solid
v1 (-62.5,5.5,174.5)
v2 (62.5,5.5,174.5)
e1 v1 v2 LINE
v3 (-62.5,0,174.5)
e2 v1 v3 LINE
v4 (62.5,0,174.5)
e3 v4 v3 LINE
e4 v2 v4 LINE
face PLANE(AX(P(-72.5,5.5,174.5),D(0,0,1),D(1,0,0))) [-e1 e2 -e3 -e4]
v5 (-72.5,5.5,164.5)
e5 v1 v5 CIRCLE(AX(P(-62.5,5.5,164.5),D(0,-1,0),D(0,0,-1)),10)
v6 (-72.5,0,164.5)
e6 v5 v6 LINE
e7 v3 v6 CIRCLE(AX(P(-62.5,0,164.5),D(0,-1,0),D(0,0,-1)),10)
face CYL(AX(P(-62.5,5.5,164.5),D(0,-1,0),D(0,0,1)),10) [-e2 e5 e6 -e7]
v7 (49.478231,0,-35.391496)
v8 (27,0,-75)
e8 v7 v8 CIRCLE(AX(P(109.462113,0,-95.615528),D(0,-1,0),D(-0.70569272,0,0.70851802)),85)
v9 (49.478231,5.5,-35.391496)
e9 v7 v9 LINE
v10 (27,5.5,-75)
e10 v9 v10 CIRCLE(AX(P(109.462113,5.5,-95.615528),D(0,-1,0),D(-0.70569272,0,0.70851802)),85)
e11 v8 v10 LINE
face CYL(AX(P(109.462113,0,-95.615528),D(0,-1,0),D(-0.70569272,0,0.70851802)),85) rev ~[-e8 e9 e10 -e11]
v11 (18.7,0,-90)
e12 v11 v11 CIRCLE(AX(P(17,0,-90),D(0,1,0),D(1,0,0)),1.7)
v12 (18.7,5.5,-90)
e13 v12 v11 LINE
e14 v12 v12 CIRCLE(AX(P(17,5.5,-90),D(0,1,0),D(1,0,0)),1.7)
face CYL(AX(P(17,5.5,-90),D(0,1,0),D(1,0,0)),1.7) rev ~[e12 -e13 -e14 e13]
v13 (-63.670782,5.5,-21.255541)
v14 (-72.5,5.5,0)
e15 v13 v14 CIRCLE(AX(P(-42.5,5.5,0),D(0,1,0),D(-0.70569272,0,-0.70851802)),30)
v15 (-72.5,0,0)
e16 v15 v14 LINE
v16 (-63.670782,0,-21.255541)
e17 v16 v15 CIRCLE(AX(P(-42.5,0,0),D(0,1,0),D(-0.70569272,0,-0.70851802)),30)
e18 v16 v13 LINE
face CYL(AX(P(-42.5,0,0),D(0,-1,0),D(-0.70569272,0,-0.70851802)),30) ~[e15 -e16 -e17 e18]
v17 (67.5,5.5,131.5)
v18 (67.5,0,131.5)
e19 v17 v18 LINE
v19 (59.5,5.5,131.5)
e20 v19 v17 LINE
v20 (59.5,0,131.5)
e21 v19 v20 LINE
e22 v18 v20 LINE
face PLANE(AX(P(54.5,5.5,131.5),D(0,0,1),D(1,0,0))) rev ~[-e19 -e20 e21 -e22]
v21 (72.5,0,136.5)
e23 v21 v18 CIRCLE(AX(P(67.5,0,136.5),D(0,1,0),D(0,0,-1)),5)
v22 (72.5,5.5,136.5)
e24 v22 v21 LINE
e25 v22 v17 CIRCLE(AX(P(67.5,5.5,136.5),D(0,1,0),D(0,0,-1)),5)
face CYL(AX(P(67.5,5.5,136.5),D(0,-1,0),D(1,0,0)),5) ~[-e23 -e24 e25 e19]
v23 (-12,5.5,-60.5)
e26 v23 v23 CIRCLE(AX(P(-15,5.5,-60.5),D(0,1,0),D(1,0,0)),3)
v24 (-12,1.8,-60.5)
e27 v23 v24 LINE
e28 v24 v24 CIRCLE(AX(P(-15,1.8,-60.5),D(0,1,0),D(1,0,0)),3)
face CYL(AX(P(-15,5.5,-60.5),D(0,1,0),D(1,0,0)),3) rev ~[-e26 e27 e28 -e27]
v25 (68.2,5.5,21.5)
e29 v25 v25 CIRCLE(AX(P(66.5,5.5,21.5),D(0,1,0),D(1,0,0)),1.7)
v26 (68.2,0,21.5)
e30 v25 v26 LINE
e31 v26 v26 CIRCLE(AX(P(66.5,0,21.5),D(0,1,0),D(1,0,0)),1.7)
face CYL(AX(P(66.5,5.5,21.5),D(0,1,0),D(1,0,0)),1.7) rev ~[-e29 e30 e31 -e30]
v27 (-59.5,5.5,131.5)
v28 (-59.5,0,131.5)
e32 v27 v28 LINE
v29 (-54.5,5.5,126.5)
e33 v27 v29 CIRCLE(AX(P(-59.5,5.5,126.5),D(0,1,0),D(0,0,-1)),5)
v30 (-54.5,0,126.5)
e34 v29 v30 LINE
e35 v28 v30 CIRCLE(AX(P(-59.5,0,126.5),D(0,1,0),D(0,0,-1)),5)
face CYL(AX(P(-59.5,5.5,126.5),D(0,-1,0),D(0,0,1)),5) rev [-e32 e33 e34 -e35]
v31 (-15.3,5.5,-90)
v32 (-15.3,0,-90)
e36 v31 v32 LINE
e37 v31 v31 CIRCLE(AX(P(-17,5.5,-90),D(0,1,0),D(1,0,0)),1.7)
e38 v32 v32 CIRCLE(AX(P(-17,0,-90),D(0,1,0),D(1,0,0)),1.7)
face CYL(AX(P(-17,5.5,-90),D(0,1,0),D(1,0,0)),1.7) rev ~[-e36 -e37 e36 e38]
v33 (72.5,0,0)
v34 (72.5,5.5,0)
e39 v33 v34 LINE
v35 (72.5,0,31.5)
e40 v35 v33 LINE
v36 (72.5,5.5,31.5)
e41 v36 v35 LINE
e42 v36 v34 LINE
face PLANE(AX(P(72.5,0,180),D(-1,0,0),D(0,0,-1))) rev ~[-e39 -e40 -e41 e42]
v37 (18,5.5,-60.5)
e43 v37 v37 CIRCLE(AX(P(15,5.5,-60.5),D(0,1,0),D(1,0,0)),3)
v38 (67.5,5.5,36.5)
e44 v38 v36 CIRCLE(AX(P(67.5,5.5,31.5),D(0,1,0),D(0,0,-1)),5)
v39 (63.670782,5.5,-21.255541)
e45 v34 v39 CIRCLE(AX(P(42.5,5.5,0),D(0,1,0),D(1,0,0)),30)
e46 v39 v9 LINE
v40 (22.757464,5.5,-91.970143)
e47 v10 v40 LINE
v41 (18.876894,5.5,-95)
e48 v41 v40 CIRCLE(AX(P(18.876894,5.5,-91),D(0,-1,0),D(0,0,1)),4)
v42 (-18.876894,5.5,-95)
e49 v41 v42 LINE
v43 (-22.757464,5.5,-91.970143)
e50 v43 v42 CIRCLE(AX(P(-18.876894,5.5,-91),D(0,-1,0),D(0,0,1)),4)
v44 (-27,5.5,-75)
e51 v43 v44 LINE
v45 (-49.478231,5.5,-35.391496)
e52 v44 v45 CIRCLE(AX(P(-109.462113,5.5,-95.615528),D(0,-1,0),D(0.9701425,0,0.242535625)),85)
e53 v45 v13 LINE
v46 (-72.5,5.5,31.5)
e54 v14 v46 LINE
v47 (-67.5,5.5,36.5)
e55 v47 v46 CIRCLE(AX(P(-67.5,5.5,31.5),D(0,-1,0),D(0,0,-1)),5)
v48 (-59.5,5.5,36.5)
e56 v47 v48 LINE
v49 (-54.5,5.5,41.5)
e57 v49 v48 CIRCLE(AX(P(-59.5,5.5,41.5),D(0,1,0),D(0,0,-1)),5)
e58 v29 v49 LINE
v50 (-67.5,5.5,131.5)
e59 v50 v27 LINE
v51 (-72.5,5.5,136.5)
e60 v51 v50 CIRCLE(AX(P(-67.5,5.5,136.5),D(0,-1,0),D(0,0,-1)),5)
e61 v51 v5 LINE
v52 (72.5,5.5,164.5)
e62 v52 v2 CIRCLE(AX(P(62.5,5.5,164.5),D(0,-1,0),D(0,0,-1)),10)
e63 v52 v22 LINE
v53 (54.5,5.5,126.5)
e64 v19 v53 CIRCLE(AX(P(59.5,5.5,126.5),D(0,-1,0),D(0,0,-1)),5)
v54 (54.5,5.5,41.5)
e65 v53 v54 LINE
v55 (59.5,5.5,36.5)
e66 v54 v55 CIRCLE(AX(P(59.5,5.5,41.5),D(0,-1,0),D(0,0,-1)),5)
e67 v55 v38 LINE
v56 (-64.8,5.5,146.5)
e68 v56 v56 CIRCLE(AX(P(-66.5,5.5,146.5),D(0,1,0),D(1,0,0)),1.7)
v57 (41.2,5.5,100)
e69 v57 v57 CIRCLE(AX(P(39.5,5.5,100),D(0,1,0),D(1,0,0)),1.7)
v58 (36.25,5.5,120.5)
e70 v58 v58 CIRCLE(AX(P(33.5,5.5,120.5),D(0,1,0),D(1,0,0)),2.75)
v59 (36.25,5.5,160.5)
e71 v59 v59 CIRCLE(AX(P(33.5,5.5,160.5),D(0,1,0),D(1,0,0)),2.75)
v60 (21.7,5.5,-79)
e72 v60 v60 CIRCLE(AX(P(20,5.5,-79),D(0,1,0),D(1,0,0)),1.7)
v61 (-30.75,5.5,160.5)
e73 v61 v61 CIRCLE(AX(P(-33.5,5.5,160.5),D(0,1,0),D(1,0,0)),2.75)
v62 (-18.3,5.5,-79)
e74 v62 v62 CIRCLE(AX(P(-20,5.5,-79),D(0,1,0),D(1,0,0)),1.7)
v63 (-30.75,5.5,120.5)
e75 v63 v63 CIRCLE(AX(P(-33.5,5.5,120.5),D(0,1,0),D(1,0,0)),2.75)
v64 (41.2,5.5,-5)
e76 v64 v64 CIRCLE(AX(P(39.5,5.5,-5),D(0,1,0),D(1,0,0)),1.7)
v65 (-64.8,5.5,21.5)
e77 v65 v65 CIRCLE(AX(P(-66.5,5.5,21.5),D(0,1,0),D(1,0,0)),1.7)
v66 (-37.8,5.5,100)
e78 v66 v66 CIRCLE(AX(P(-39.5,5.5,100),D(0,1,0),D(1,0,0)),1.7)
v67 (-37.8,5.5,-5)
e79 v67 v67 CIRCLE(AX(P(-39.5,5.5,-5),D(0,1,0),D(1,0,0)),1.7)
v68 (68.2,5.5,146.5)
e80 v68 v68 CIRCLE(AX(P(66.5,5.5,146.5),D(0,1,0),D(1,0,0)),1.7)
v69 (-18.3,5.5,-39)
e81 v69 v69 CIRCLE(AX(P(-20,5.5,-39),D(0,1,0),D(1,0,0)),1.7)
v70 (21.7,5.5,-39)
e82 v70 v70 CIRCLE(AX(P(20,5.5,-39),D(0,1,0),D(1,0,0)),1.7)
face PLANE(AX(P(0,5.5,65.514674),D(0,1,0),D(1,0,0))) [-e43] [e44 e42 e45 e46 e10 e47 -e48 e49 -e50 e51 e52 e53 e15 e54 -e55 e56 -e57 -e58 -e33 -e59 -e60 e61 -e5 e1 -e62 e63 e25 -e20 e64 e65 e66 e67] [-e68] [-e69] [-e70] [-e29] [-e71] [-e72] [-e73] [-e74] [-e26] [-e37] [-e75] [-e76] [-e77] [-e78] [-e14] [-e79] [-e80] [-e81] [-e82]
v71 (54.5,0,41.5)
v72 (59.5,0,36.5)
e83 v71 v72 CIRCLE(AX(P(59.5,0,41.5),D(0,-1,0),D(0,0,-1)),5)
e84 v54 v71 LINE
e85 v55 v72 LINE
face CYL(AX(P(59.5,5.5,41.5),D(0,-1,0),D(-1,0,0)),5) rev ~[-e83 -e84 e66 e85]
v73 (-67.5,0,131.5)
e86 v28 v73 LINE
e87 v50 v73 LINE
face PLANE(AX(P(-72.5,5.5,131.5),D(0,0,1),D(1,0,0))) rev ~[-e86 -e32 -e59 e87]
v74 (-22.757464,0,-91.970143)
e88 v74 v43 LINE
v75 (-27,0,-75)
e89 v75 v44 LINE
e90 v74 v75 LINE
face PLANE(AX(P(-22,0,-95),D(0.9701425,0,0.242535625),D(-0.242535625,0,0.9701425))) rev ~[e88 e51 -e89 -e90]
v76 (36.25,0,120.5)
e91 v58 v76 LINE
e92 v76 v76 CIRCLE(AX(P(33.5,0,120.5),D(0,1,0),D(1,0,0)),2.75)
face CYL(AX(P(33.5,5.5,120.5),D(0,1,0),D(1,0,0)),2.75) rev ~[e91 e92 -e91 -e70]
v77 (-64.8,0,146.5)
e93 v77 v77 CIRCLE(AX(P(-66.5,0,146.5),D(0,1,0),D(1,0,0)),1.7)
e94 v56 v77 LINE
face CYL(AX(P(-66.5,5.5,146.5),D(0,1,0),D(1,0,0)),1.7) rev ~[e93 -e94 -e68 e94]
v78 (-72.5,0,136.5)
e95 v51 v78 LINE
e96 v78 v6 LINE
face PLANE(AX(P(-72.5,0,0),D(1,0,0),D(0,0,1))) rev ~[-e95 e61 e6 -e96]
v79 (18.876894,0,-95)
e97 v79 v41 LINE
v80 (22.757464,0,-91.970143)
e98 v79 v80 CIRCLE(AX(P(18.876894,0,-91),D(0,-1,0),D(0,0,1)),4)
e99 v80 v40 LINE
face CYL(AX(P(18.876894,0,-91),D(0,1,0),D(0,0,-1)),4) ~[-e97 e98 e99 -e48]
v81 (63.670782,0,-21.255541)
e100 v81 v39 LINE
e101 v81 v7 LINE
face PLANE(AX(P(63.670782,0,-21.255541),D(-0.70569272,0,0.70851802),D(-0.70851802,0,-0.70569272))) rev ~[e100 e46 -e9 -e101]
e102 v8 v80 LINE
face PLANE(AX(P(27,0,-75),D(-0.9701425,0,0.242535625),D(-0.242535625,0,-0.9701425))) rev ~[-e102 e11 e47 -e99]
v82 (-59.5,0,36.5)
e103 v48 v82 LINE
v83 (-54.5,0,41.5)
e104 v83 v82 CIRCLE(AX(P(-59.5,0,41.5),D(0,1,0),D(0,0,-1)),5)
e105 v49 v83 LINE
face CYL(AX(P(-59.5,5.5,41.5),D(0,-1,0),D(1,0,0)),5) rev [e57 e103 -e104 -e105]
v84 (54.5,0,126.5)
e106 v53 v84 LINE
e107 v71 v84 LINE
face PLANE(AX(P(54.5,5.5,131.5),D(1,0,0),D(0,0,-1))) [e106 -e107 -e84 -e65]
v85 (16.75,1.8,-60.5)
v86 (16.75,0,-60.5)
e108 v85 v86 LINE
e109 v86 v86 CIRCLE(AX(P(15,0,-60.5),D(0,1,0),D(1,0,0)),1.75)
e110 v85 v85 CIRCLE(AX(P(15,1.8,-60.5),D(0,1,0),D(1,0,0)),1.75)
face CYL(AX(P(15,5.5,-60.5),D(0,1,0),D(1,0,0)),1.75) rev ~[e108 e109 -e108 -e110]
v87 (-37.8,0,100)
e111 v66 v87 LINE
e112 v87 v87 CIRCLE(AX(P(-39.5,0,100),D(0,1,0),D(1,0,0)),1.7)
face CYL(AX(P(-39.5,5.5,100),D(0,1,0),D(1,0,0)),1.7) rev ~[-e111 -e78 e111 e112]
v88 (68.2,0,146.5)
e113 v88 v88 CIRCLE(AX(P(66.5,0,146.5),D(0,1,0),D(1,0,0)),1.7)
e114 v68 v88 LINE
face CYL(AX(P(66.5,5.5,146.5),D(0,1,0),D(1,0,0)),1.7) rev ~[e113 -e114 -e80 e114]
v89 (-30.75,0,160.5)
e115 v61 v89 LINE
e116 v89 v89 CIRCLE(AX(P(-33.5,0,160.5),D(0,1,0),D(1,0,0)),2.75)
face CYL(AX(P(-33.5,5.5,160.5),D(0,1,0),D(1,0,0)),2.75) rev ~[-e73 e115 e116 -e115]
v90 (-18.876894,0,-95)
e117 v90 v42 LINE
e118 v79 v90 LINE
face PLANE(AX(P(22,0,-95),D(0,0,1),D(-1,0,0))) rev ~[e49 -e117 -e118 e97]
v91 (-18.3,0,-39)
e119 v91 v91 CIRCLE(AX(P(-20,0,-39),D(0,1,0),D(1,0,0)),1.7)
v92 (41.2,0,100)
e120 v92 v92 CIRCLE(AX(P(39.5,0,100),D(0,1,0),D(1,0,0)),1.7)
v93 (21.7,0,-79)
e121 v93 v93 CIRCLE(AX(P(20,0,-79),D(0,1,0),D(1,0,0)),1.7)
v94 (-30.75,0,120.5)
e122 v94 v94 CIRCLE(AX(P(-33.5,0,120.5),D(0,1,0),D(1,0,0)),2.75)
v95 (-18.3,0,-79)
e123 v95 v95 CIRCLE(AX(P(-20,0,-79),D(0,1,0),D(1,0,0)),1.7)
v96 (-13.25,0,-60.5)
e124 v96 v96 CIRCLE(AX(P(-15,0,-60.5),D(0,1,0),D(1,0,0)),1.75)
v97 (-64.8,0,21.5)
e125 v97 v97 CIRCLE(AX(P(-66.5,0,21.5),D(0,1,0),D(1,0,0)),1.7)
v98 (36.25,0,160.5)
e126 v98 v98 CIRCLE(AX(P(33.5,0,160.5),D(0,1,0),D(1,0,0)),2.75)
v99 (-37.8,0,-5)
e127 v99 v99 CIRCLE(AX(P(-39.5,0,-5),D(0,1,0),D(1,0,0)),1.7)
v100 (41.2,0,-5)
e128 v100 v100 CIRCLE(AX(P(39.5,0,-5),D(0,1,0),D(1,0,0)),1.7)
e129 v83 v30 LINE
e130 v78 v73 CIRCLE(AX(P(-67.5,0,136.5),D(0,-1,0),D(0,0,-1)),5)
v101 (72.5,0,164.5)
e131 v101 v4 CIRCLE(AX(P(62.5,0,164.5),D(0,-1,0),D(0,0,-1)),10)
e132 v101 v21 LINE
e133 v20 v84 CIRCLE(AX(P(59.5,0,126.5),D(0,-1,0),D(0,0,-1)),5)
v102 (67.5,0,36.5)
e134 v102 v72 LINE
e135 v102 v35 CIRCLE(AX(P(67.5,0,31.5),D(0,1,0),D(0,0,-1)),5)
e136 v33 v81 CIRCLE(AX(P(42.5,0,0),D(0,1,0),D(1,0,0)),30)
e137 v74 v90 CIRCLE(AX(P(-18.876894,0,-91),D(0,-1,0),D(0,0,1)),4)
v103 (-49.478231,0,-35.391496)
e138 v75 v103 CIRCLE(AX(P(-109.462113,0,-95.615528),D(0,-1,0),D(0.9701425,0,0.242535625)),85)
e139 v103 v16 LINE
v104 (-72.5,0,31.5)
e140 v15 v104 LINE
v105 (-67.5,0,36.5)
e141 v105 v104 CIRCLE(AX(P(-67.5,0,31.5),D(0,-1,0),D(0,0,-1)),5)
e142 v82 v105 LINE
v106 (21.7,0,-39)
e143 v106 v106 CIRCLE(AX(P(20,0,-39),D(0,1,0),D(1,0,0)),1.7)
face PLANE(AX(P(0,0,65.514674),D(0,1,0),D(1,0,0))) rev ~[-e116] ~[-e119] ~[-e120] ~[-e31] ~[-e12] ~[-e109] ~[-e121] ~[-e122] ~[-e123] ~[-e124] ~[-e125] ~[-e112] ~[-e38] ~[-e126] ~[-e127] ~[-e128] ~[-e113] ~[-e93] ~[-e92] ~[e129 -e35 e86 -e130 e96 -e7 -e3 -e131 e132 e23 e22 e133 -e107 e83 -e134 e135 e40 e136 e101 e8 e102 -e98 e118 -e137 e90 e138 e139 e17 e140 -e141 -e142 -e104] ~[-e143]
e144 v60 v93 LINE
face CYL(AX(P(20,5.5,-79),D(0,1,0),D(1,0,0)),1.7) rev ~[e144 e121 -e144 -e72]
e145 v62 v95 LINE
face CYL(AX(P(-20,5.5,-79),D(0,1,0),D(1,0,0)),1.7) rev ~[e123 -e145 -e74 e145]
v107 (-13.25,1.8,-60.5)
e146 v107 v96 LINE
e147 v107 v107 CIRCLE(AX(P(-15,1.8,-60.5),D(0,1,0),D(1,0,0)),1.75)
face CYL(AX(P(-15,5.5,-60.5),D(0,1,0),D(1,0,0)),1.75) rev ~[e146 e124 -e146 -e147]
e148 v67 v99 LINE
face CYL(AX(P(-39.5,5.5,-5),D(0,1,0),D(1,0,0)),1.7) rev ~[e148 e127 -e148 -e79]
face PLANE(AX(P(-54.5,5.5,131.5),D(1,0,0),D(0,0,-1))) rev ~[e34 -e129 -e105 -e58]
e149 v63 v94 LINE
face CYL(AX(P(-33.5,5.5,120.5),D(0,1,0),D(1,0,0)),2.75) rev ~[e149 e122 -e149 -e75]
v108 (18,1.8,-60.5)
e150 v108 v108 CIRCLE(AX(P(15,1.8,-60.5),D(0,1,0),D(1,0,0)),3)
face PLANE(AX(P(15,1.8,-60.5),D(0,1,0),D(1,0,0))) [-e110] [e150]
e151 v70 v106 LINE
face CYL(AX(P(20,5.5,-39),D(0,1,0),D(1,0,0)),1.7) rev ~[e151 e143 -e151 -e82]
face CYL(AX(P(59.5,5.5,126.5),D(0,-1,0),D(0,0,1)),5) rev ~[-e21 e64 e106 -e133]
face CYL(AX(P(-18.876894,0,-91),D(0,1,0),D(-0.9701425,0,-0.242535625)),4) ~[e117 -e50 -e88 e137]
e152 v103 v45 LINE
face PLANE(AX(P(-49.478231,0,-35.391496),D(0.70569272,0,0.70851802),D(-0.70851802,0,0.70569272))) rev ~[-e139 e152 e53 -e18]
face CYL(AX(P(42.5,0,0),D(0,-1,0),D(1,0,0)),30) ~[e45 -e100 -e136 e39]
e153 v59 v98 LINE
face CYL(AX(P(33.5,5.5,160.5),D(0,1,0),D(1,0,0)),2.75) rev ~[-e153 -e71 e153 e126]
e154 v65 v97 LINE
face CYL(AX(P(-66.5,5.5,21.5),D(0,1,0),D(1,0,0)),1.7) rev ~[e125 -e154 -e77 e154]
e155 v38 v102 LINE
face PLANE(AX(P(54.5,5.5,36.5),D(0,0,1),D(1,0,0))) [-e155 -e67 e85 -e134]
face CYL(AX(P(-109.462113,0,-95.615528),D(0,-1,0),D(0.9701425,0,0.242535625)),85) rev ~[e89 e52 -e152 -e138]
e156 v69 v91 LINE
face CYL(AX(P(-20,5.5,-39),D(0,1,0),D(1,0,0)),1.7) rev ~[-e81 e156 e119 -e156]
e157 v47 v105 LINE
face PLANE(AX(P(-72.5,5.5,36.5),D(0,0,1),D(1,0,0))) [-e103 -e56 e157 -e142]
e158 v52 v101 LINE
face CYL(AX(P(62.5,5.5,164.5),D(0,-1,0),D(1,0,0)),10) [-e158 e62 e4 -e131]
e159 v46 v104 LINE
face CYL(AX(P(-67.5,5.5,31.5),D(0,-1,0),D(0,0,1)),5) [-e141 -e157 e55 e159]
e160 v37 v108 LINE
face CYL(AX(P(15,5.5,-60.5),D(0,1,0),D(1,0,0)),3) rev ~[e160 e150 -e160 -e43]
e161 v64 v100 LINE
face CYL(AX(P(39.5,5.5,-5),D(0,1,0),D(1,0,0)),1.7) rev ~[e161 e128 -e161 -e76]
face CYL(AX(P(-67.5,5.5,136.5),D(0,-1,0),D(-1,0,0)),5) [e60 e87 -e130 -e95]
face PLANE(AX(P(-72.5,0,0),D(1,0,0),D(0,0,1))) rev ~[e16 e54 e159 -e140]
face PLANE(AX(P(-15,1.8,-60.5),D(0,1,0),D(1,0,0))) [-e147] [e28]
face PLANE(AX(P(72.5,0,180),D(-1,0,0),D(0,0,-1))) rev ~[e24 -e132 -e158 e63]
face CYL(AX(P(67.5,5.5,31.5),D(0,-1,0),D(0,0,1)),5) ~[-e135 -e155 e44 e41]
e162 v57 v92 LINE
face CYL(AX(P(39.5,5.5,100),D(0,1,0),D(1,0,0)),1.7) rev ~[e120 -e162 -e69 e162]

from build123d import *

# Parameters (mm, degrees)
DECK_BASE_DEPTH     = 5.5
BOLT_SLOT_REACH     = 7.5
SKETCH_3_R          = 1.7
FILLET_1_R          = 4
CUT_SIDE_REACH      = 7.5
SKETCH_11_W         = 18
SKETCH_11_H         = 95
CUT_TAIL_REACH      = 7.5
SKETCH_10_W         = 145
SKETCH_10_H         = 38.5
FILLET_2_R          = 10
FILLET_3_R          = 5
LIDAR_SLOT_REACH    = 7.5
SKETCH_4_R          = 1.7
VESC_SLOT_REACH     = 7.5
SKETCH_6_R          = 2.75
NANO_SLOT_REACH     = 7.5
SKETCH_7_R          = 1.7
CUT_EXTRUDE_3_REACH = 7.5
SKETCH_12_R         = 1.75
SKETCH_13_R         = 3
CUT_EXTRUDE_4_DEPTH = 3.7


with BuildPart() as part:
    # 스케치1 → Deck base (new body)
    with BuildSketch(Plane(origin=(0, 0, 0), x_dir=(1, 0, 0), z_dir=(0, 1, 0))):
        with BuildLine():
            Line((-72.5, 0), (-72.5, -180))
            ThreePointArc((-72.5, -180), (-69.571067812, -187.071067812), (-62.5, -190))
            Line((-62.5, -190), (-49.196112248, -190))
            ThreePointArc((-49.196112248, -190), (-47.589899161, -190.265015363), (-46.15395453, -191.031968194))
            Line((-46.15395453, -191.031968194), (-18.84604547, -211.968031806))
            ThreePointArc((-18.84604547, -211.968031806), (-17.410100839, -212.734984637), (-15.803887752, -213))
            Line((-15.803887752, -213), (15.803887752, -213))
            ThreePointArc((15.803887752, -213), (17.410100839, -212.734984637), (18.84604547, -211.968031806))
            Line((18.84604547, -211.968031806), (46.15395453, -191.031968194))
            ThreePointArc((46.15395453, -191.031968194), (47.589899161, -190.265015363), (49.196112248, -190))
            Line((49.196112248, -190), (62.5, -190))
            ThreePointArc((62.5, -190), (69.571067812, -187.071067812), (72.5, -180))
            Line((72.5, -180), (72.5, 0))
            ThreePointArc((72.5, 0), (70.204904333, 11.508182998), (63.670781605, 21.255540601))
            Line((63.670781605, 21.255540601), (49.478231298, 35.391496426))
            ThreePointArc((49.478231298, 35.391496426), (35.536990456, 53.662264501), (27, 75))
            Line((27, 75), (22, 95))
            Line((22, 95), (-22, 95))
            Line((-22, 95), (-27, 75))
            ThreePointArc((-27, 75), (-35.536990456, 53.662264501), (-49.478231298, 35.391496426))
            Line((-49.478231298, 35.391496426), (-63.670781605, 21.255540601))
            ThreePointArc((-63.670781605, 21.255540601), (-70.204904333, 11.508182998), (-72.5, 0))
        make_face()
    extrude(amount=DECK_BASE_DEPTH)

    # 스케치3 → Bolt slot (cut, up to next)
    with BuildSketch(Plane(origin=(0, 5.5, 0), x_dir=(1, 0, 0), z_dir=(0, 1, 0)), mode=Mode.PRIVATE) as bolt_slot_sk1:
        with Locations((17, 90)):
            Circle(SKETCH_3_R)
    bolt_slot_tool1 = extrude(bolt_slot_sk1.sketch, amount=-BOLT_SLOT_REACH, mode=Mode.PRIVATE) & part.part
    add(bolt_slot_tool1.solids().sort_by_distance((17, 5.5, -90))[0], mode=Mode.SUBTRACT)
    # 스케치3 → Bolt slot (cut, up to next)
    with BuildSketch(Plane(origin=(0, 5.5, 0), x_dir=(1, 0, 0), z_dir=(0, 1, 0)), mode=Mode.PRIVATE) as bolt_slot_sk2:
        with Locations((66.5, -146.5)):
            Circle(SKETCH_3_R)
    bolt_slot_tool2 = extrude(bolt_slot_sk2.sketch, amount=-BOLT_SLOT_REACH, mode=Mode.PRIVATE) & part.part
    add(bolt_slot_tool2.solids().sort_by_distance((66.5, 5.5, 146.5))[0], mode=Mode.SUBTRACT)
    # 스케치3 → Bolt slot (cut, up to next)
    with BuildSketch(Plane(origin=(0, 5.5, 0), x_dir=(1, 0, 0), z_dir=(0, 1, 0)), mode=Mode.PRIVATE) as bolt_slot_sk3:
        with Locations((66.5, -116.5)):
            Circle(SKETCH_3_R)
    bolt_slot_tool3 = extrude(bolt_slot_sk3.sketch, amount=-BOLT_SLOT_REACH, mode=Mode.PRIVATE) & part.part
    add(bolt_slot_tool3.solids().sort_by_distance((66.5, 5.5, 116.5))[0], mode=Mode.SUBTRACT)
    # 스케치3 → Bolt slot (cut, up to next)
    with BuildSketch(Plane(origin=(0, 5.5, 0), x_dir=(1, 0, 0), z_dir=(0, 1, 0)), mode=Mode.PRIVATE) as bolt_slot_sk4:
        with Locations((66.5, -51.5)):
            Circle(SKETCH_3_R)
    bolt_slot_tool4 = extrude(bolt_slot_sk4.sketch, amount=-BOLT_SLOT_REACH, mode=Mode.PRIVATE) & part.part
    add(bolt_slot_tool4.solids().sort_by_distance((66.5, 5.5, 51.5))[0], mode=Mode.SUBTRACT)
    # 스케치3 → Bolt slot (cut, up to next)
    with BuildSketch(Plane(origin=(0, 5.5, 0), x_dir=(1, 0, 0), z_dir=(0, 1, 0)), mode=Mode.PRIVATE) as bolt_slot_sk5:
        with Locations((66.5, -21.5)):
            Circle(SKETCH_3_R)
    bolt_slot_tool5 = extrude(bolt_slot_sk5.sketch, amount=-BOLT_SLOT_REACH, mode=Mode.PRIVATE) & part.part
    add(bolt_slot_tool5.solids().sort_by_distance((66.5, 5.5, 21.5))[0], mode=Mode.SUBTRACT)
    # 스케치3 → Bolt slot (cut, up to next)
    with BuildSketch(Plane(origin=(0, 5.5, 0), x_dir=(1, 0, 0), z_dir=(0, 1, 0)), mode=Mode.PRIVATE) as bolt_slot_sk6:
        with Locations((-66.5, -21.5)):
            Circle(SKETCH_3_R)
    bolt_slot_tool6 = extrude(bolt_slot_sk6.sketch, amount=-BOLT_SLOT_REACH, mode=Mode.PRIVATE) & part.part
    add(bolt_slot_tool6.solids().sort_by_distance((-66.5, 5.5, 21.5))[0], mode=Mode.SUBTRACT)
    # 스케치3 → Bolt slot (cut, up to next)
    with BuildSketch(Plane(origin=(0, 5.5, 0), x_dir=(1, 0, 0), z_dir=(0, 1, 0)), mode=Mode.PRIVATE) as bolt_slot_sk7:
        with Locations((-66.5, -51.5)):
            Circle(SKETCH_3_R)
    bolt_slot_tool7 = extrude(bolt_slot_sk7.sketch, amount=-BOLT_SLOT_REACH, mode=Mode.PRIVATE) & part.part
    add(bolt_slot_tool7.solids().sort_by_distance((-66.5, 5.5, 51.5))[0], mode=Mode.SUBTRACT)
    # 스케치3 → Bolt slot (cut, up to next)
    with BuildSketch(Plane(origin=(0, 5.5, 0), x_dir=(1, 0, 0), z_dir=(0, 1, 0)), mode=Mode.PRIVATE) as bolt_slot_sk8:
        with Locations((-66.5, -116.5)):
            Circle(SKETCH_3_R)
    bolt_slot_tool8 = extrude(bolt_slot_sk8.sketch, amount=-BOLT_SLOT_REACH, mode=Mode.PRIVATE) & part.part
    add(bolt_slot_tool8.solids().sort_by_distance((-66.5, 5.5, 116.5))[0], mode=Mode.SUBTRACT)
    # 스케치3 → Bolt slot (cut, up to next)
    with BuildSketch(Plane(origin=(0, 5.5, 0), x_dir=(1, 0, 0), z_dir=(0, 1, 0)), mode=Mode.PRIVATE) as bolt_slot_sk9:
        with Locations((-66.5, -146.5)):
            Circle(SKETCH_3_R)
    bolt_slot_tool9 = extrude(bolt_slot_sk9.sketch, amount=-BOLT_SLOT_REACH, mode=Mode.PRIVATE) & part.part
    add(bolt_slot_tool9.solids().sort_by_distance((-66.5, 5.5, 146.5))[0], mode=Mode.SUBTRACT)
    # 스케치3 → Bolt slot (cut, up to next)
    with BuildSketch(Plane(origin=(0, 5.5, 0), x_dir=(1, 0, 0), z_dir=(0, 1, 0)), mode=Mode.PRIVATE) as bolt_slot_sk10:
        with Locations((-17, 90)):
            Circle(SKETCH_3_R)
    bolt_slot_tool10 = extrude(bolt_slot_sk10.sketch, amount=-BOLT_SLOT_REACH, mode=Mode.PRIVATE) & part.part
    add(bolt_slot_tool10.solids().sort_by_distance((-17, 5.5, -90))[0], mode=Mode.SUBTRACT)

    # 필렛1
    fillet_1_edges = [part.edges().sort_by_distance(p)[0] for p in [
        (22, 2.75, -95),
        (-22, 2.75, -95),
    ]]
    fillet(fillet_1_edges, radius=FILLET_1_R)

    # 스케치11 → Cut side (cut, up to next)
    with BuildSketch(Plane(origin=(0, 5.5, 0), x_dir=(1, 0, 0), z_dir=(0, 1, 0)), mode=Mode.PRIVATE) as cut_side_sk1:
        with Locations((-63.5, -84)):
            Rectangle(SKETCH_11_W, SKETCH_11_H)
    cut_side_tool1 = extrude(cut_side_sk1.sketch, amount=-CUT_SIDE_REACH, mode=Mode.PRIVATE) & part.part
    add(cut_side_tool1.solids().sort_by_distance((-63.5, 5.5, 84))[0], mode=Mode.SUBTRACT)
    # 스케치11 → Cut side (cut, up to next)
    with BuildSketch(Plane(origin=(0, 5.5, 0), x_dir=(1, 0, 0), z_dir=(0, 1, 0)), mode=Mode.PRIVATE) as cut_side_sk2:
        with Locations((63.5, -84)):
            Rectangle(SKETCH_11_W, SKETCH_11_H)
    cut_side_tool2 = extrude(cut_side_sk2.sketch, amount=-CUT_SIDE_REACH, mode=Mode.PRIVATE) & part.part
    add(cut_side_tool2.solids().sort_by_distance((63.5, 5.5, 84))[0], mode=Mode.SUBTRACT)

    # 스케치10 → Cut tail (cut, up to next)
    with BuildSketch(Plane(origin=(0, 5.5, 0), x_dir=(1, 0, 0), z_dir=(0, 1, 0)), mode=Mode.PRIVATE) as cut_tail_sk1:
        with Locations((0, -193.75)):
            Rectangle(SKETCH_10_W, SKETCH_10_H)
    cut_tail_tool1 = extrude(cut_tail_sk1.sketch, amount=-CUT_TAIL_REACH, mode=Mode.PRIVATE) & part.part
    add(cut_tail_tool1.solids().sort_by_distance((0, 5.5, 193.75))[0], mode=Mode.SUBTRACT)

    # 필렛2
    fillet_2_edges = [part.edges().sort_by_distance(p)[0] for p in [
        (72.5, 2.75, 174.5),
        (-72.5, 2.75, 174.5),
    ]]
    fillet(fillet_2_edges, radius=FILLET_2_R)

    # 필렛3
    fillet_3_edges = [part.edges().sort_by_distance(p)[0] for p in [
        (-72.5, 2.75, 131.5),
        (-72.5, 2.75, 36.5),
        (-54.5, 2.75, 36.5),
        (-54.5, 2.75, 131.5),
        (72.5, 2.75, 36.5),
        (72.5, 2.75, 131.5),
        (54.5, 2.75, 131.5),
        (54.5, 2.75, 36.5),
    ]]
    fillet(fillet_3_edges, radius=FILLET_3_R)

    # 스케치4 → Lidar slot (cut, up to next)
    with BuildSketch(Plane(origin=(0, 5.5, 0), x_dir=(1, 0, 0), z_dir=(0, 1, 0)), mode=Mode.PRIVATE) as lidar_slot_sk1:
        with Locations((-20, 79)):
            Circle(SKETCH_4_R)
    lidar_slot_tool1 = extrude(lidar_slot_sk1.sketch, amount=-LIDAR_SLOT_REACH, mode=Mode.PRIVATE) & part.part
    add(lidar_slot_tool1.solids().sort_by_distance((-20, 5.5, -79))[0], mode=Mode.SUBTRACT)
    # 스케치4 → Lidar slot (cut, up to next)
    with BuildSketch(Plane(origin=(0, 5.5, 0), x_dir=(1, 0, 0), z_dir=(0, 1, 0)), mode=Mode.PRIVATE) as lidar_slot_sk2:
        with Locations((-20, 39)):
            Circle(SKETCH_4_R)
    lidar_slot_tool2 = extrude(lidar_slot_sk2.sketch, amount=-LIDAR_SLOT_REACH, mode=Mode.PRIVATE) & part.part
    add(lidar_slot_tool2.solids().sort_by_distance((-20, 5.5, -39))[0], mode=Mode.SUBTRACT)
    # 스케치4 → Lidar slot (cut, up to next)
    with BuildSketch(Plane(origin=(0, 5.5, 0), x_dir=(1, 0, 0), z_dir=(0, 1, 0)), mode=Mode.PRIVATE) as lidar_slot_sk3:
        with Locations((20, 39)):
            Circle(SKETCH_4_R)
    lidar_slot_tool3 = extrude(lidar_slot_sk3.sketch, amount=-LIDAR_SLOT_REACH, mode=Mode.PRIVATE) & part.part
    add(lidar_slot_tool3.solids().sort_by_distance((20, 5.5, -39))[0], mode=Mode.SUBTRACT)
    # 스케치4 → Lidar slot (cut, up to next)
    with BuildSketch(Plane(origin=(0, 5.5, 0), x_dir=(1, 0, 0), z_dir=(0, 1, 0)), mode=Mode.PRIVATE) as lidar_slot_sk4:
        with Locations((20, 79)):
            Circle(SKETCH_4_R)
    lidar_slot_tool4 = extrude(lidar_slot_sk4.sketch, amount=-LIDAR_SLOT_REACH, mode=Mode.PRIVATE) & part.part
    add(lidar_slot_tool4.solids().sort_by_distance((20, 5.5, -79))[0], mode=Mode.SUBTRACT)

    # 스케치6 → Vesc slot (cut, up to next)
    with BuildSketch(Plane(origin=(0, 5.5, 0), x_dir=(1, 0, 0), z_dir=(0, 1, 0)), mode=Mode.PRIVATE) as vesc_slot_sk1:
        with Locations((33.5, -120.5)):
            Circle(SKETCH_6_R)
    vesc_slot_tool1 = extrude(vesc_slot_sk1.sketch, amount=-VESC_SLOT_REACH, mode=Mode.PRIVATE) & part.part
    add(vesc_slot_tool1.solids().sort_by_distance((33.5, 5.5, 120.5))[0], mode=Mode.SUBTRACT)
    # 스케치6 → Vesc slot (cut, up to next)
    with BuildSketch(Plane(origin=(0, 5.5, 0), x_dir=(1, 0, 0), z_dir=(0, 1, 0)), mode=Mode.PRIVATE) as vesc_slot_sk2:
        with Locations((33.5, -160.5)):
            Circle(SKETCH_6_R)
    vesc_slot_tool2 = extrude(vesc_slot_sk2.sketch, amount=-VESC_SLOT_REACH, mode=Mode.PRIVATE) & part.part
    add(vesc_slot_tool2.solids().sort_by_distance((33.5, 5.5, 160.5))[0], mode=Mode.SUBTRACT)
    # 스케치6 → Vesc slot (cut, up to next)
    with BuildSketch(Plane(origin=(0, 5.5, 0), x_dir=(1, 0, 0), z_dir=(0, 1, 0)), mode=Mode.PRIVATE) as vesc_slot_sk3:
        with Locations((-33.5, -160.5)):
            Circle(SKETCH_6_R)
    vesc_slot_tool3 = extrude(vesc_slot_sk3.sketch, amount=-VESC_SLOT_REACH, mode=Mode.PRIVATE) & part.part
    add(vesc_slot_tool3.solids().sort_by_distance((-33.5, 5.5, 160.5))[0], mode=Mode.SUBTRACT)
    # 스케치6 → Vesc slot (cut, up to next)
    with BuildSketch(Plane(origin=(0, 5.5, 0), x_dir=(1, 0, 0), z_dir=(0, 1, 0)), mode=Mode.PRIVATE) as vesc_slot_sk4:
        with Locations((-33.5, -120.5)):
            Circle(SKETCH_6_R)
    vesc_slot_tool4 = extrude(vesc_slot_sk4.sketch, amount=-VESC_SLOT_REACH, mode=Mode.PRIVATE) & part.part
    add(vesc_slot_tool4.solids().sort_by_distance((-33.5, 5.5, 120.5))[0], mode=Mode.SUBTRACT)

    # 스케치7 → Nano slot (cut, up to next)
    with BuildSketch(Plane(origin=(0, 5.5, 0), x_dir=(1, 0, 0), z_dir=(0, 1, 0)), mode=Mode.PRIVATE) as nano_slot_sk1:
        with Locations((39.5, 5)):
            Circle(SKETCH_7_R)
    nano_slot_tool1 = extrude(nano_slot_sk1.sketch, amount=-NANO_SLOT_REACH, mode=Mode.PRIVATE) & part.part
    add(nano_slot_tool1.solids().sort_by_distance((39.5, 5.5, -5))[0], mode=Mode.SUBTRACT)
    # 스케치7 → Nano slot (cut, up to next)
    with BuildSketch(Plane(origin=(0, 5.5, 0), x_dir=(1, 0, 0), z_dir=(0, 1, 0)), mode=Mode.PRIVATE) as nano_slot_sk2:
        with Locations((39.5, -100)):
            Circle(SKETCH_7_R)
    nano_slot_tool2 = extrude(nano_slot_sk2.sketch, amount=-NANO_SLOT_REACH, mode=Mode.PRIVATE) & part.part
    add(nano_slot_tool2.solids().sort_by_distance((39.5, 5.5, 100))[0], mode=Mode.SUBTRACT)
    # 스케치7 → Nano slot (cut, up to next)
    with BuildSketch(Plane(origin=(0, 5.5, 0), x_dir=(1, 0, 0), z_dir=(0, 1, 0)), mode=Mode.PRIVATE) as nano_slot_sk3:
        with Locations((-39.5, -100)):
            Circle(SKETCH_7_R)
    nano_slot_tool3 = extrude(nano_slot_sk3.sketch, amount=-NANO_SLOT_REACH, mode=Mode.PRIVATE) & part.part
    add(nano_slot_tool3.solids().sort_by_distance((-39.5, 5.5, 100))[0], mode=Mode.SUBTRACT)
    # 스케치7 → Nano slot (cut, up to next)
    with BuildSketch(Plane(origin=(0, 5.5, 0), x_dir=(1, 0, 0), z_dir=(0, 1, 0)), mode=Mode.PRIVATE) as nano_slot_sk4:
        with Locations((-39.5, 5)):
            Circle(SKETCH_7_R)
    nano_slot_tool4 = extrude(nano_slot_sk4.sketch, amount=-NANO_SLOT_REACH, mode=Mode.PRIVATE) & part.part
    add(nano_slot_tool4.solids().sort_by_distance((-39.5, 5.5, -5))[0], mode=Mode.SUBTRACT)

    # 스케치12 → 컷-돌출3 (cut, up to next)
    with BuildSketch(Plane(origin=(0, 5.5, 0), x_dir=(1, 0, 0), z_dir=(0, 1, 0)), mode=Mode.PRIVATE) as cut_extrude_3_sk1:
        with Locations((-15, 60.5)):
            Circle(SKETCH_12_R)
    cut_extrude_3_tool1 = extrude(cut_extrude_3_sk1.sketch, amount=-CUT_EXTRUDE_3_REACH, mode=Mode.PRIVATE) & part.part
    add(cut_extrude_3_tool1.solids().sort_by_distance((-15, 5.5, -60.5))[0], mode=Mode.SUBTRACT)
    # 스케치12 → 컷-돌출3 (cut, up to next)
    with BuildSketch(Plane(origin=(0, 5.5, 0), x_dir=(1, 0, 0), z_dir=(0, 1, 0)), mode=Mode.PRIVATE) as cut_extrude_3_sk2:
        with Locations((15, 60.5)):
            Circle(SKETCH_12_R)
    cut_extrude_3_tool2 = extrude(cut_extrude_3_sk2.sketch, amount=-CUT_EXTRUDE_3_REACH, mode=Mode.PRIVATE) & part.part
    add(cut_extrude_3_tool2.solids().sort_by_distance((15, 5.5, -60.5))[0], mode=Mode.SUBTRACT)

    # 스케치13 → 컷-돌출4 (cut)
    with BuildSketch(Plane(origin=(0, 5.5, 0), x_dir=(1, 0, 0), z_dir=(0, 1, 0))):
        with Locations((-15, 60.5)):
            Circle(SKETCH_13_R)
        with Locations((15, 60.5)):
            Circle(SKETCH_13_R)
    extrude(amount=-CUT_EXTRUDE_4_DEPTH, mode=Mode.SUBTRACT)


solid = part.part
